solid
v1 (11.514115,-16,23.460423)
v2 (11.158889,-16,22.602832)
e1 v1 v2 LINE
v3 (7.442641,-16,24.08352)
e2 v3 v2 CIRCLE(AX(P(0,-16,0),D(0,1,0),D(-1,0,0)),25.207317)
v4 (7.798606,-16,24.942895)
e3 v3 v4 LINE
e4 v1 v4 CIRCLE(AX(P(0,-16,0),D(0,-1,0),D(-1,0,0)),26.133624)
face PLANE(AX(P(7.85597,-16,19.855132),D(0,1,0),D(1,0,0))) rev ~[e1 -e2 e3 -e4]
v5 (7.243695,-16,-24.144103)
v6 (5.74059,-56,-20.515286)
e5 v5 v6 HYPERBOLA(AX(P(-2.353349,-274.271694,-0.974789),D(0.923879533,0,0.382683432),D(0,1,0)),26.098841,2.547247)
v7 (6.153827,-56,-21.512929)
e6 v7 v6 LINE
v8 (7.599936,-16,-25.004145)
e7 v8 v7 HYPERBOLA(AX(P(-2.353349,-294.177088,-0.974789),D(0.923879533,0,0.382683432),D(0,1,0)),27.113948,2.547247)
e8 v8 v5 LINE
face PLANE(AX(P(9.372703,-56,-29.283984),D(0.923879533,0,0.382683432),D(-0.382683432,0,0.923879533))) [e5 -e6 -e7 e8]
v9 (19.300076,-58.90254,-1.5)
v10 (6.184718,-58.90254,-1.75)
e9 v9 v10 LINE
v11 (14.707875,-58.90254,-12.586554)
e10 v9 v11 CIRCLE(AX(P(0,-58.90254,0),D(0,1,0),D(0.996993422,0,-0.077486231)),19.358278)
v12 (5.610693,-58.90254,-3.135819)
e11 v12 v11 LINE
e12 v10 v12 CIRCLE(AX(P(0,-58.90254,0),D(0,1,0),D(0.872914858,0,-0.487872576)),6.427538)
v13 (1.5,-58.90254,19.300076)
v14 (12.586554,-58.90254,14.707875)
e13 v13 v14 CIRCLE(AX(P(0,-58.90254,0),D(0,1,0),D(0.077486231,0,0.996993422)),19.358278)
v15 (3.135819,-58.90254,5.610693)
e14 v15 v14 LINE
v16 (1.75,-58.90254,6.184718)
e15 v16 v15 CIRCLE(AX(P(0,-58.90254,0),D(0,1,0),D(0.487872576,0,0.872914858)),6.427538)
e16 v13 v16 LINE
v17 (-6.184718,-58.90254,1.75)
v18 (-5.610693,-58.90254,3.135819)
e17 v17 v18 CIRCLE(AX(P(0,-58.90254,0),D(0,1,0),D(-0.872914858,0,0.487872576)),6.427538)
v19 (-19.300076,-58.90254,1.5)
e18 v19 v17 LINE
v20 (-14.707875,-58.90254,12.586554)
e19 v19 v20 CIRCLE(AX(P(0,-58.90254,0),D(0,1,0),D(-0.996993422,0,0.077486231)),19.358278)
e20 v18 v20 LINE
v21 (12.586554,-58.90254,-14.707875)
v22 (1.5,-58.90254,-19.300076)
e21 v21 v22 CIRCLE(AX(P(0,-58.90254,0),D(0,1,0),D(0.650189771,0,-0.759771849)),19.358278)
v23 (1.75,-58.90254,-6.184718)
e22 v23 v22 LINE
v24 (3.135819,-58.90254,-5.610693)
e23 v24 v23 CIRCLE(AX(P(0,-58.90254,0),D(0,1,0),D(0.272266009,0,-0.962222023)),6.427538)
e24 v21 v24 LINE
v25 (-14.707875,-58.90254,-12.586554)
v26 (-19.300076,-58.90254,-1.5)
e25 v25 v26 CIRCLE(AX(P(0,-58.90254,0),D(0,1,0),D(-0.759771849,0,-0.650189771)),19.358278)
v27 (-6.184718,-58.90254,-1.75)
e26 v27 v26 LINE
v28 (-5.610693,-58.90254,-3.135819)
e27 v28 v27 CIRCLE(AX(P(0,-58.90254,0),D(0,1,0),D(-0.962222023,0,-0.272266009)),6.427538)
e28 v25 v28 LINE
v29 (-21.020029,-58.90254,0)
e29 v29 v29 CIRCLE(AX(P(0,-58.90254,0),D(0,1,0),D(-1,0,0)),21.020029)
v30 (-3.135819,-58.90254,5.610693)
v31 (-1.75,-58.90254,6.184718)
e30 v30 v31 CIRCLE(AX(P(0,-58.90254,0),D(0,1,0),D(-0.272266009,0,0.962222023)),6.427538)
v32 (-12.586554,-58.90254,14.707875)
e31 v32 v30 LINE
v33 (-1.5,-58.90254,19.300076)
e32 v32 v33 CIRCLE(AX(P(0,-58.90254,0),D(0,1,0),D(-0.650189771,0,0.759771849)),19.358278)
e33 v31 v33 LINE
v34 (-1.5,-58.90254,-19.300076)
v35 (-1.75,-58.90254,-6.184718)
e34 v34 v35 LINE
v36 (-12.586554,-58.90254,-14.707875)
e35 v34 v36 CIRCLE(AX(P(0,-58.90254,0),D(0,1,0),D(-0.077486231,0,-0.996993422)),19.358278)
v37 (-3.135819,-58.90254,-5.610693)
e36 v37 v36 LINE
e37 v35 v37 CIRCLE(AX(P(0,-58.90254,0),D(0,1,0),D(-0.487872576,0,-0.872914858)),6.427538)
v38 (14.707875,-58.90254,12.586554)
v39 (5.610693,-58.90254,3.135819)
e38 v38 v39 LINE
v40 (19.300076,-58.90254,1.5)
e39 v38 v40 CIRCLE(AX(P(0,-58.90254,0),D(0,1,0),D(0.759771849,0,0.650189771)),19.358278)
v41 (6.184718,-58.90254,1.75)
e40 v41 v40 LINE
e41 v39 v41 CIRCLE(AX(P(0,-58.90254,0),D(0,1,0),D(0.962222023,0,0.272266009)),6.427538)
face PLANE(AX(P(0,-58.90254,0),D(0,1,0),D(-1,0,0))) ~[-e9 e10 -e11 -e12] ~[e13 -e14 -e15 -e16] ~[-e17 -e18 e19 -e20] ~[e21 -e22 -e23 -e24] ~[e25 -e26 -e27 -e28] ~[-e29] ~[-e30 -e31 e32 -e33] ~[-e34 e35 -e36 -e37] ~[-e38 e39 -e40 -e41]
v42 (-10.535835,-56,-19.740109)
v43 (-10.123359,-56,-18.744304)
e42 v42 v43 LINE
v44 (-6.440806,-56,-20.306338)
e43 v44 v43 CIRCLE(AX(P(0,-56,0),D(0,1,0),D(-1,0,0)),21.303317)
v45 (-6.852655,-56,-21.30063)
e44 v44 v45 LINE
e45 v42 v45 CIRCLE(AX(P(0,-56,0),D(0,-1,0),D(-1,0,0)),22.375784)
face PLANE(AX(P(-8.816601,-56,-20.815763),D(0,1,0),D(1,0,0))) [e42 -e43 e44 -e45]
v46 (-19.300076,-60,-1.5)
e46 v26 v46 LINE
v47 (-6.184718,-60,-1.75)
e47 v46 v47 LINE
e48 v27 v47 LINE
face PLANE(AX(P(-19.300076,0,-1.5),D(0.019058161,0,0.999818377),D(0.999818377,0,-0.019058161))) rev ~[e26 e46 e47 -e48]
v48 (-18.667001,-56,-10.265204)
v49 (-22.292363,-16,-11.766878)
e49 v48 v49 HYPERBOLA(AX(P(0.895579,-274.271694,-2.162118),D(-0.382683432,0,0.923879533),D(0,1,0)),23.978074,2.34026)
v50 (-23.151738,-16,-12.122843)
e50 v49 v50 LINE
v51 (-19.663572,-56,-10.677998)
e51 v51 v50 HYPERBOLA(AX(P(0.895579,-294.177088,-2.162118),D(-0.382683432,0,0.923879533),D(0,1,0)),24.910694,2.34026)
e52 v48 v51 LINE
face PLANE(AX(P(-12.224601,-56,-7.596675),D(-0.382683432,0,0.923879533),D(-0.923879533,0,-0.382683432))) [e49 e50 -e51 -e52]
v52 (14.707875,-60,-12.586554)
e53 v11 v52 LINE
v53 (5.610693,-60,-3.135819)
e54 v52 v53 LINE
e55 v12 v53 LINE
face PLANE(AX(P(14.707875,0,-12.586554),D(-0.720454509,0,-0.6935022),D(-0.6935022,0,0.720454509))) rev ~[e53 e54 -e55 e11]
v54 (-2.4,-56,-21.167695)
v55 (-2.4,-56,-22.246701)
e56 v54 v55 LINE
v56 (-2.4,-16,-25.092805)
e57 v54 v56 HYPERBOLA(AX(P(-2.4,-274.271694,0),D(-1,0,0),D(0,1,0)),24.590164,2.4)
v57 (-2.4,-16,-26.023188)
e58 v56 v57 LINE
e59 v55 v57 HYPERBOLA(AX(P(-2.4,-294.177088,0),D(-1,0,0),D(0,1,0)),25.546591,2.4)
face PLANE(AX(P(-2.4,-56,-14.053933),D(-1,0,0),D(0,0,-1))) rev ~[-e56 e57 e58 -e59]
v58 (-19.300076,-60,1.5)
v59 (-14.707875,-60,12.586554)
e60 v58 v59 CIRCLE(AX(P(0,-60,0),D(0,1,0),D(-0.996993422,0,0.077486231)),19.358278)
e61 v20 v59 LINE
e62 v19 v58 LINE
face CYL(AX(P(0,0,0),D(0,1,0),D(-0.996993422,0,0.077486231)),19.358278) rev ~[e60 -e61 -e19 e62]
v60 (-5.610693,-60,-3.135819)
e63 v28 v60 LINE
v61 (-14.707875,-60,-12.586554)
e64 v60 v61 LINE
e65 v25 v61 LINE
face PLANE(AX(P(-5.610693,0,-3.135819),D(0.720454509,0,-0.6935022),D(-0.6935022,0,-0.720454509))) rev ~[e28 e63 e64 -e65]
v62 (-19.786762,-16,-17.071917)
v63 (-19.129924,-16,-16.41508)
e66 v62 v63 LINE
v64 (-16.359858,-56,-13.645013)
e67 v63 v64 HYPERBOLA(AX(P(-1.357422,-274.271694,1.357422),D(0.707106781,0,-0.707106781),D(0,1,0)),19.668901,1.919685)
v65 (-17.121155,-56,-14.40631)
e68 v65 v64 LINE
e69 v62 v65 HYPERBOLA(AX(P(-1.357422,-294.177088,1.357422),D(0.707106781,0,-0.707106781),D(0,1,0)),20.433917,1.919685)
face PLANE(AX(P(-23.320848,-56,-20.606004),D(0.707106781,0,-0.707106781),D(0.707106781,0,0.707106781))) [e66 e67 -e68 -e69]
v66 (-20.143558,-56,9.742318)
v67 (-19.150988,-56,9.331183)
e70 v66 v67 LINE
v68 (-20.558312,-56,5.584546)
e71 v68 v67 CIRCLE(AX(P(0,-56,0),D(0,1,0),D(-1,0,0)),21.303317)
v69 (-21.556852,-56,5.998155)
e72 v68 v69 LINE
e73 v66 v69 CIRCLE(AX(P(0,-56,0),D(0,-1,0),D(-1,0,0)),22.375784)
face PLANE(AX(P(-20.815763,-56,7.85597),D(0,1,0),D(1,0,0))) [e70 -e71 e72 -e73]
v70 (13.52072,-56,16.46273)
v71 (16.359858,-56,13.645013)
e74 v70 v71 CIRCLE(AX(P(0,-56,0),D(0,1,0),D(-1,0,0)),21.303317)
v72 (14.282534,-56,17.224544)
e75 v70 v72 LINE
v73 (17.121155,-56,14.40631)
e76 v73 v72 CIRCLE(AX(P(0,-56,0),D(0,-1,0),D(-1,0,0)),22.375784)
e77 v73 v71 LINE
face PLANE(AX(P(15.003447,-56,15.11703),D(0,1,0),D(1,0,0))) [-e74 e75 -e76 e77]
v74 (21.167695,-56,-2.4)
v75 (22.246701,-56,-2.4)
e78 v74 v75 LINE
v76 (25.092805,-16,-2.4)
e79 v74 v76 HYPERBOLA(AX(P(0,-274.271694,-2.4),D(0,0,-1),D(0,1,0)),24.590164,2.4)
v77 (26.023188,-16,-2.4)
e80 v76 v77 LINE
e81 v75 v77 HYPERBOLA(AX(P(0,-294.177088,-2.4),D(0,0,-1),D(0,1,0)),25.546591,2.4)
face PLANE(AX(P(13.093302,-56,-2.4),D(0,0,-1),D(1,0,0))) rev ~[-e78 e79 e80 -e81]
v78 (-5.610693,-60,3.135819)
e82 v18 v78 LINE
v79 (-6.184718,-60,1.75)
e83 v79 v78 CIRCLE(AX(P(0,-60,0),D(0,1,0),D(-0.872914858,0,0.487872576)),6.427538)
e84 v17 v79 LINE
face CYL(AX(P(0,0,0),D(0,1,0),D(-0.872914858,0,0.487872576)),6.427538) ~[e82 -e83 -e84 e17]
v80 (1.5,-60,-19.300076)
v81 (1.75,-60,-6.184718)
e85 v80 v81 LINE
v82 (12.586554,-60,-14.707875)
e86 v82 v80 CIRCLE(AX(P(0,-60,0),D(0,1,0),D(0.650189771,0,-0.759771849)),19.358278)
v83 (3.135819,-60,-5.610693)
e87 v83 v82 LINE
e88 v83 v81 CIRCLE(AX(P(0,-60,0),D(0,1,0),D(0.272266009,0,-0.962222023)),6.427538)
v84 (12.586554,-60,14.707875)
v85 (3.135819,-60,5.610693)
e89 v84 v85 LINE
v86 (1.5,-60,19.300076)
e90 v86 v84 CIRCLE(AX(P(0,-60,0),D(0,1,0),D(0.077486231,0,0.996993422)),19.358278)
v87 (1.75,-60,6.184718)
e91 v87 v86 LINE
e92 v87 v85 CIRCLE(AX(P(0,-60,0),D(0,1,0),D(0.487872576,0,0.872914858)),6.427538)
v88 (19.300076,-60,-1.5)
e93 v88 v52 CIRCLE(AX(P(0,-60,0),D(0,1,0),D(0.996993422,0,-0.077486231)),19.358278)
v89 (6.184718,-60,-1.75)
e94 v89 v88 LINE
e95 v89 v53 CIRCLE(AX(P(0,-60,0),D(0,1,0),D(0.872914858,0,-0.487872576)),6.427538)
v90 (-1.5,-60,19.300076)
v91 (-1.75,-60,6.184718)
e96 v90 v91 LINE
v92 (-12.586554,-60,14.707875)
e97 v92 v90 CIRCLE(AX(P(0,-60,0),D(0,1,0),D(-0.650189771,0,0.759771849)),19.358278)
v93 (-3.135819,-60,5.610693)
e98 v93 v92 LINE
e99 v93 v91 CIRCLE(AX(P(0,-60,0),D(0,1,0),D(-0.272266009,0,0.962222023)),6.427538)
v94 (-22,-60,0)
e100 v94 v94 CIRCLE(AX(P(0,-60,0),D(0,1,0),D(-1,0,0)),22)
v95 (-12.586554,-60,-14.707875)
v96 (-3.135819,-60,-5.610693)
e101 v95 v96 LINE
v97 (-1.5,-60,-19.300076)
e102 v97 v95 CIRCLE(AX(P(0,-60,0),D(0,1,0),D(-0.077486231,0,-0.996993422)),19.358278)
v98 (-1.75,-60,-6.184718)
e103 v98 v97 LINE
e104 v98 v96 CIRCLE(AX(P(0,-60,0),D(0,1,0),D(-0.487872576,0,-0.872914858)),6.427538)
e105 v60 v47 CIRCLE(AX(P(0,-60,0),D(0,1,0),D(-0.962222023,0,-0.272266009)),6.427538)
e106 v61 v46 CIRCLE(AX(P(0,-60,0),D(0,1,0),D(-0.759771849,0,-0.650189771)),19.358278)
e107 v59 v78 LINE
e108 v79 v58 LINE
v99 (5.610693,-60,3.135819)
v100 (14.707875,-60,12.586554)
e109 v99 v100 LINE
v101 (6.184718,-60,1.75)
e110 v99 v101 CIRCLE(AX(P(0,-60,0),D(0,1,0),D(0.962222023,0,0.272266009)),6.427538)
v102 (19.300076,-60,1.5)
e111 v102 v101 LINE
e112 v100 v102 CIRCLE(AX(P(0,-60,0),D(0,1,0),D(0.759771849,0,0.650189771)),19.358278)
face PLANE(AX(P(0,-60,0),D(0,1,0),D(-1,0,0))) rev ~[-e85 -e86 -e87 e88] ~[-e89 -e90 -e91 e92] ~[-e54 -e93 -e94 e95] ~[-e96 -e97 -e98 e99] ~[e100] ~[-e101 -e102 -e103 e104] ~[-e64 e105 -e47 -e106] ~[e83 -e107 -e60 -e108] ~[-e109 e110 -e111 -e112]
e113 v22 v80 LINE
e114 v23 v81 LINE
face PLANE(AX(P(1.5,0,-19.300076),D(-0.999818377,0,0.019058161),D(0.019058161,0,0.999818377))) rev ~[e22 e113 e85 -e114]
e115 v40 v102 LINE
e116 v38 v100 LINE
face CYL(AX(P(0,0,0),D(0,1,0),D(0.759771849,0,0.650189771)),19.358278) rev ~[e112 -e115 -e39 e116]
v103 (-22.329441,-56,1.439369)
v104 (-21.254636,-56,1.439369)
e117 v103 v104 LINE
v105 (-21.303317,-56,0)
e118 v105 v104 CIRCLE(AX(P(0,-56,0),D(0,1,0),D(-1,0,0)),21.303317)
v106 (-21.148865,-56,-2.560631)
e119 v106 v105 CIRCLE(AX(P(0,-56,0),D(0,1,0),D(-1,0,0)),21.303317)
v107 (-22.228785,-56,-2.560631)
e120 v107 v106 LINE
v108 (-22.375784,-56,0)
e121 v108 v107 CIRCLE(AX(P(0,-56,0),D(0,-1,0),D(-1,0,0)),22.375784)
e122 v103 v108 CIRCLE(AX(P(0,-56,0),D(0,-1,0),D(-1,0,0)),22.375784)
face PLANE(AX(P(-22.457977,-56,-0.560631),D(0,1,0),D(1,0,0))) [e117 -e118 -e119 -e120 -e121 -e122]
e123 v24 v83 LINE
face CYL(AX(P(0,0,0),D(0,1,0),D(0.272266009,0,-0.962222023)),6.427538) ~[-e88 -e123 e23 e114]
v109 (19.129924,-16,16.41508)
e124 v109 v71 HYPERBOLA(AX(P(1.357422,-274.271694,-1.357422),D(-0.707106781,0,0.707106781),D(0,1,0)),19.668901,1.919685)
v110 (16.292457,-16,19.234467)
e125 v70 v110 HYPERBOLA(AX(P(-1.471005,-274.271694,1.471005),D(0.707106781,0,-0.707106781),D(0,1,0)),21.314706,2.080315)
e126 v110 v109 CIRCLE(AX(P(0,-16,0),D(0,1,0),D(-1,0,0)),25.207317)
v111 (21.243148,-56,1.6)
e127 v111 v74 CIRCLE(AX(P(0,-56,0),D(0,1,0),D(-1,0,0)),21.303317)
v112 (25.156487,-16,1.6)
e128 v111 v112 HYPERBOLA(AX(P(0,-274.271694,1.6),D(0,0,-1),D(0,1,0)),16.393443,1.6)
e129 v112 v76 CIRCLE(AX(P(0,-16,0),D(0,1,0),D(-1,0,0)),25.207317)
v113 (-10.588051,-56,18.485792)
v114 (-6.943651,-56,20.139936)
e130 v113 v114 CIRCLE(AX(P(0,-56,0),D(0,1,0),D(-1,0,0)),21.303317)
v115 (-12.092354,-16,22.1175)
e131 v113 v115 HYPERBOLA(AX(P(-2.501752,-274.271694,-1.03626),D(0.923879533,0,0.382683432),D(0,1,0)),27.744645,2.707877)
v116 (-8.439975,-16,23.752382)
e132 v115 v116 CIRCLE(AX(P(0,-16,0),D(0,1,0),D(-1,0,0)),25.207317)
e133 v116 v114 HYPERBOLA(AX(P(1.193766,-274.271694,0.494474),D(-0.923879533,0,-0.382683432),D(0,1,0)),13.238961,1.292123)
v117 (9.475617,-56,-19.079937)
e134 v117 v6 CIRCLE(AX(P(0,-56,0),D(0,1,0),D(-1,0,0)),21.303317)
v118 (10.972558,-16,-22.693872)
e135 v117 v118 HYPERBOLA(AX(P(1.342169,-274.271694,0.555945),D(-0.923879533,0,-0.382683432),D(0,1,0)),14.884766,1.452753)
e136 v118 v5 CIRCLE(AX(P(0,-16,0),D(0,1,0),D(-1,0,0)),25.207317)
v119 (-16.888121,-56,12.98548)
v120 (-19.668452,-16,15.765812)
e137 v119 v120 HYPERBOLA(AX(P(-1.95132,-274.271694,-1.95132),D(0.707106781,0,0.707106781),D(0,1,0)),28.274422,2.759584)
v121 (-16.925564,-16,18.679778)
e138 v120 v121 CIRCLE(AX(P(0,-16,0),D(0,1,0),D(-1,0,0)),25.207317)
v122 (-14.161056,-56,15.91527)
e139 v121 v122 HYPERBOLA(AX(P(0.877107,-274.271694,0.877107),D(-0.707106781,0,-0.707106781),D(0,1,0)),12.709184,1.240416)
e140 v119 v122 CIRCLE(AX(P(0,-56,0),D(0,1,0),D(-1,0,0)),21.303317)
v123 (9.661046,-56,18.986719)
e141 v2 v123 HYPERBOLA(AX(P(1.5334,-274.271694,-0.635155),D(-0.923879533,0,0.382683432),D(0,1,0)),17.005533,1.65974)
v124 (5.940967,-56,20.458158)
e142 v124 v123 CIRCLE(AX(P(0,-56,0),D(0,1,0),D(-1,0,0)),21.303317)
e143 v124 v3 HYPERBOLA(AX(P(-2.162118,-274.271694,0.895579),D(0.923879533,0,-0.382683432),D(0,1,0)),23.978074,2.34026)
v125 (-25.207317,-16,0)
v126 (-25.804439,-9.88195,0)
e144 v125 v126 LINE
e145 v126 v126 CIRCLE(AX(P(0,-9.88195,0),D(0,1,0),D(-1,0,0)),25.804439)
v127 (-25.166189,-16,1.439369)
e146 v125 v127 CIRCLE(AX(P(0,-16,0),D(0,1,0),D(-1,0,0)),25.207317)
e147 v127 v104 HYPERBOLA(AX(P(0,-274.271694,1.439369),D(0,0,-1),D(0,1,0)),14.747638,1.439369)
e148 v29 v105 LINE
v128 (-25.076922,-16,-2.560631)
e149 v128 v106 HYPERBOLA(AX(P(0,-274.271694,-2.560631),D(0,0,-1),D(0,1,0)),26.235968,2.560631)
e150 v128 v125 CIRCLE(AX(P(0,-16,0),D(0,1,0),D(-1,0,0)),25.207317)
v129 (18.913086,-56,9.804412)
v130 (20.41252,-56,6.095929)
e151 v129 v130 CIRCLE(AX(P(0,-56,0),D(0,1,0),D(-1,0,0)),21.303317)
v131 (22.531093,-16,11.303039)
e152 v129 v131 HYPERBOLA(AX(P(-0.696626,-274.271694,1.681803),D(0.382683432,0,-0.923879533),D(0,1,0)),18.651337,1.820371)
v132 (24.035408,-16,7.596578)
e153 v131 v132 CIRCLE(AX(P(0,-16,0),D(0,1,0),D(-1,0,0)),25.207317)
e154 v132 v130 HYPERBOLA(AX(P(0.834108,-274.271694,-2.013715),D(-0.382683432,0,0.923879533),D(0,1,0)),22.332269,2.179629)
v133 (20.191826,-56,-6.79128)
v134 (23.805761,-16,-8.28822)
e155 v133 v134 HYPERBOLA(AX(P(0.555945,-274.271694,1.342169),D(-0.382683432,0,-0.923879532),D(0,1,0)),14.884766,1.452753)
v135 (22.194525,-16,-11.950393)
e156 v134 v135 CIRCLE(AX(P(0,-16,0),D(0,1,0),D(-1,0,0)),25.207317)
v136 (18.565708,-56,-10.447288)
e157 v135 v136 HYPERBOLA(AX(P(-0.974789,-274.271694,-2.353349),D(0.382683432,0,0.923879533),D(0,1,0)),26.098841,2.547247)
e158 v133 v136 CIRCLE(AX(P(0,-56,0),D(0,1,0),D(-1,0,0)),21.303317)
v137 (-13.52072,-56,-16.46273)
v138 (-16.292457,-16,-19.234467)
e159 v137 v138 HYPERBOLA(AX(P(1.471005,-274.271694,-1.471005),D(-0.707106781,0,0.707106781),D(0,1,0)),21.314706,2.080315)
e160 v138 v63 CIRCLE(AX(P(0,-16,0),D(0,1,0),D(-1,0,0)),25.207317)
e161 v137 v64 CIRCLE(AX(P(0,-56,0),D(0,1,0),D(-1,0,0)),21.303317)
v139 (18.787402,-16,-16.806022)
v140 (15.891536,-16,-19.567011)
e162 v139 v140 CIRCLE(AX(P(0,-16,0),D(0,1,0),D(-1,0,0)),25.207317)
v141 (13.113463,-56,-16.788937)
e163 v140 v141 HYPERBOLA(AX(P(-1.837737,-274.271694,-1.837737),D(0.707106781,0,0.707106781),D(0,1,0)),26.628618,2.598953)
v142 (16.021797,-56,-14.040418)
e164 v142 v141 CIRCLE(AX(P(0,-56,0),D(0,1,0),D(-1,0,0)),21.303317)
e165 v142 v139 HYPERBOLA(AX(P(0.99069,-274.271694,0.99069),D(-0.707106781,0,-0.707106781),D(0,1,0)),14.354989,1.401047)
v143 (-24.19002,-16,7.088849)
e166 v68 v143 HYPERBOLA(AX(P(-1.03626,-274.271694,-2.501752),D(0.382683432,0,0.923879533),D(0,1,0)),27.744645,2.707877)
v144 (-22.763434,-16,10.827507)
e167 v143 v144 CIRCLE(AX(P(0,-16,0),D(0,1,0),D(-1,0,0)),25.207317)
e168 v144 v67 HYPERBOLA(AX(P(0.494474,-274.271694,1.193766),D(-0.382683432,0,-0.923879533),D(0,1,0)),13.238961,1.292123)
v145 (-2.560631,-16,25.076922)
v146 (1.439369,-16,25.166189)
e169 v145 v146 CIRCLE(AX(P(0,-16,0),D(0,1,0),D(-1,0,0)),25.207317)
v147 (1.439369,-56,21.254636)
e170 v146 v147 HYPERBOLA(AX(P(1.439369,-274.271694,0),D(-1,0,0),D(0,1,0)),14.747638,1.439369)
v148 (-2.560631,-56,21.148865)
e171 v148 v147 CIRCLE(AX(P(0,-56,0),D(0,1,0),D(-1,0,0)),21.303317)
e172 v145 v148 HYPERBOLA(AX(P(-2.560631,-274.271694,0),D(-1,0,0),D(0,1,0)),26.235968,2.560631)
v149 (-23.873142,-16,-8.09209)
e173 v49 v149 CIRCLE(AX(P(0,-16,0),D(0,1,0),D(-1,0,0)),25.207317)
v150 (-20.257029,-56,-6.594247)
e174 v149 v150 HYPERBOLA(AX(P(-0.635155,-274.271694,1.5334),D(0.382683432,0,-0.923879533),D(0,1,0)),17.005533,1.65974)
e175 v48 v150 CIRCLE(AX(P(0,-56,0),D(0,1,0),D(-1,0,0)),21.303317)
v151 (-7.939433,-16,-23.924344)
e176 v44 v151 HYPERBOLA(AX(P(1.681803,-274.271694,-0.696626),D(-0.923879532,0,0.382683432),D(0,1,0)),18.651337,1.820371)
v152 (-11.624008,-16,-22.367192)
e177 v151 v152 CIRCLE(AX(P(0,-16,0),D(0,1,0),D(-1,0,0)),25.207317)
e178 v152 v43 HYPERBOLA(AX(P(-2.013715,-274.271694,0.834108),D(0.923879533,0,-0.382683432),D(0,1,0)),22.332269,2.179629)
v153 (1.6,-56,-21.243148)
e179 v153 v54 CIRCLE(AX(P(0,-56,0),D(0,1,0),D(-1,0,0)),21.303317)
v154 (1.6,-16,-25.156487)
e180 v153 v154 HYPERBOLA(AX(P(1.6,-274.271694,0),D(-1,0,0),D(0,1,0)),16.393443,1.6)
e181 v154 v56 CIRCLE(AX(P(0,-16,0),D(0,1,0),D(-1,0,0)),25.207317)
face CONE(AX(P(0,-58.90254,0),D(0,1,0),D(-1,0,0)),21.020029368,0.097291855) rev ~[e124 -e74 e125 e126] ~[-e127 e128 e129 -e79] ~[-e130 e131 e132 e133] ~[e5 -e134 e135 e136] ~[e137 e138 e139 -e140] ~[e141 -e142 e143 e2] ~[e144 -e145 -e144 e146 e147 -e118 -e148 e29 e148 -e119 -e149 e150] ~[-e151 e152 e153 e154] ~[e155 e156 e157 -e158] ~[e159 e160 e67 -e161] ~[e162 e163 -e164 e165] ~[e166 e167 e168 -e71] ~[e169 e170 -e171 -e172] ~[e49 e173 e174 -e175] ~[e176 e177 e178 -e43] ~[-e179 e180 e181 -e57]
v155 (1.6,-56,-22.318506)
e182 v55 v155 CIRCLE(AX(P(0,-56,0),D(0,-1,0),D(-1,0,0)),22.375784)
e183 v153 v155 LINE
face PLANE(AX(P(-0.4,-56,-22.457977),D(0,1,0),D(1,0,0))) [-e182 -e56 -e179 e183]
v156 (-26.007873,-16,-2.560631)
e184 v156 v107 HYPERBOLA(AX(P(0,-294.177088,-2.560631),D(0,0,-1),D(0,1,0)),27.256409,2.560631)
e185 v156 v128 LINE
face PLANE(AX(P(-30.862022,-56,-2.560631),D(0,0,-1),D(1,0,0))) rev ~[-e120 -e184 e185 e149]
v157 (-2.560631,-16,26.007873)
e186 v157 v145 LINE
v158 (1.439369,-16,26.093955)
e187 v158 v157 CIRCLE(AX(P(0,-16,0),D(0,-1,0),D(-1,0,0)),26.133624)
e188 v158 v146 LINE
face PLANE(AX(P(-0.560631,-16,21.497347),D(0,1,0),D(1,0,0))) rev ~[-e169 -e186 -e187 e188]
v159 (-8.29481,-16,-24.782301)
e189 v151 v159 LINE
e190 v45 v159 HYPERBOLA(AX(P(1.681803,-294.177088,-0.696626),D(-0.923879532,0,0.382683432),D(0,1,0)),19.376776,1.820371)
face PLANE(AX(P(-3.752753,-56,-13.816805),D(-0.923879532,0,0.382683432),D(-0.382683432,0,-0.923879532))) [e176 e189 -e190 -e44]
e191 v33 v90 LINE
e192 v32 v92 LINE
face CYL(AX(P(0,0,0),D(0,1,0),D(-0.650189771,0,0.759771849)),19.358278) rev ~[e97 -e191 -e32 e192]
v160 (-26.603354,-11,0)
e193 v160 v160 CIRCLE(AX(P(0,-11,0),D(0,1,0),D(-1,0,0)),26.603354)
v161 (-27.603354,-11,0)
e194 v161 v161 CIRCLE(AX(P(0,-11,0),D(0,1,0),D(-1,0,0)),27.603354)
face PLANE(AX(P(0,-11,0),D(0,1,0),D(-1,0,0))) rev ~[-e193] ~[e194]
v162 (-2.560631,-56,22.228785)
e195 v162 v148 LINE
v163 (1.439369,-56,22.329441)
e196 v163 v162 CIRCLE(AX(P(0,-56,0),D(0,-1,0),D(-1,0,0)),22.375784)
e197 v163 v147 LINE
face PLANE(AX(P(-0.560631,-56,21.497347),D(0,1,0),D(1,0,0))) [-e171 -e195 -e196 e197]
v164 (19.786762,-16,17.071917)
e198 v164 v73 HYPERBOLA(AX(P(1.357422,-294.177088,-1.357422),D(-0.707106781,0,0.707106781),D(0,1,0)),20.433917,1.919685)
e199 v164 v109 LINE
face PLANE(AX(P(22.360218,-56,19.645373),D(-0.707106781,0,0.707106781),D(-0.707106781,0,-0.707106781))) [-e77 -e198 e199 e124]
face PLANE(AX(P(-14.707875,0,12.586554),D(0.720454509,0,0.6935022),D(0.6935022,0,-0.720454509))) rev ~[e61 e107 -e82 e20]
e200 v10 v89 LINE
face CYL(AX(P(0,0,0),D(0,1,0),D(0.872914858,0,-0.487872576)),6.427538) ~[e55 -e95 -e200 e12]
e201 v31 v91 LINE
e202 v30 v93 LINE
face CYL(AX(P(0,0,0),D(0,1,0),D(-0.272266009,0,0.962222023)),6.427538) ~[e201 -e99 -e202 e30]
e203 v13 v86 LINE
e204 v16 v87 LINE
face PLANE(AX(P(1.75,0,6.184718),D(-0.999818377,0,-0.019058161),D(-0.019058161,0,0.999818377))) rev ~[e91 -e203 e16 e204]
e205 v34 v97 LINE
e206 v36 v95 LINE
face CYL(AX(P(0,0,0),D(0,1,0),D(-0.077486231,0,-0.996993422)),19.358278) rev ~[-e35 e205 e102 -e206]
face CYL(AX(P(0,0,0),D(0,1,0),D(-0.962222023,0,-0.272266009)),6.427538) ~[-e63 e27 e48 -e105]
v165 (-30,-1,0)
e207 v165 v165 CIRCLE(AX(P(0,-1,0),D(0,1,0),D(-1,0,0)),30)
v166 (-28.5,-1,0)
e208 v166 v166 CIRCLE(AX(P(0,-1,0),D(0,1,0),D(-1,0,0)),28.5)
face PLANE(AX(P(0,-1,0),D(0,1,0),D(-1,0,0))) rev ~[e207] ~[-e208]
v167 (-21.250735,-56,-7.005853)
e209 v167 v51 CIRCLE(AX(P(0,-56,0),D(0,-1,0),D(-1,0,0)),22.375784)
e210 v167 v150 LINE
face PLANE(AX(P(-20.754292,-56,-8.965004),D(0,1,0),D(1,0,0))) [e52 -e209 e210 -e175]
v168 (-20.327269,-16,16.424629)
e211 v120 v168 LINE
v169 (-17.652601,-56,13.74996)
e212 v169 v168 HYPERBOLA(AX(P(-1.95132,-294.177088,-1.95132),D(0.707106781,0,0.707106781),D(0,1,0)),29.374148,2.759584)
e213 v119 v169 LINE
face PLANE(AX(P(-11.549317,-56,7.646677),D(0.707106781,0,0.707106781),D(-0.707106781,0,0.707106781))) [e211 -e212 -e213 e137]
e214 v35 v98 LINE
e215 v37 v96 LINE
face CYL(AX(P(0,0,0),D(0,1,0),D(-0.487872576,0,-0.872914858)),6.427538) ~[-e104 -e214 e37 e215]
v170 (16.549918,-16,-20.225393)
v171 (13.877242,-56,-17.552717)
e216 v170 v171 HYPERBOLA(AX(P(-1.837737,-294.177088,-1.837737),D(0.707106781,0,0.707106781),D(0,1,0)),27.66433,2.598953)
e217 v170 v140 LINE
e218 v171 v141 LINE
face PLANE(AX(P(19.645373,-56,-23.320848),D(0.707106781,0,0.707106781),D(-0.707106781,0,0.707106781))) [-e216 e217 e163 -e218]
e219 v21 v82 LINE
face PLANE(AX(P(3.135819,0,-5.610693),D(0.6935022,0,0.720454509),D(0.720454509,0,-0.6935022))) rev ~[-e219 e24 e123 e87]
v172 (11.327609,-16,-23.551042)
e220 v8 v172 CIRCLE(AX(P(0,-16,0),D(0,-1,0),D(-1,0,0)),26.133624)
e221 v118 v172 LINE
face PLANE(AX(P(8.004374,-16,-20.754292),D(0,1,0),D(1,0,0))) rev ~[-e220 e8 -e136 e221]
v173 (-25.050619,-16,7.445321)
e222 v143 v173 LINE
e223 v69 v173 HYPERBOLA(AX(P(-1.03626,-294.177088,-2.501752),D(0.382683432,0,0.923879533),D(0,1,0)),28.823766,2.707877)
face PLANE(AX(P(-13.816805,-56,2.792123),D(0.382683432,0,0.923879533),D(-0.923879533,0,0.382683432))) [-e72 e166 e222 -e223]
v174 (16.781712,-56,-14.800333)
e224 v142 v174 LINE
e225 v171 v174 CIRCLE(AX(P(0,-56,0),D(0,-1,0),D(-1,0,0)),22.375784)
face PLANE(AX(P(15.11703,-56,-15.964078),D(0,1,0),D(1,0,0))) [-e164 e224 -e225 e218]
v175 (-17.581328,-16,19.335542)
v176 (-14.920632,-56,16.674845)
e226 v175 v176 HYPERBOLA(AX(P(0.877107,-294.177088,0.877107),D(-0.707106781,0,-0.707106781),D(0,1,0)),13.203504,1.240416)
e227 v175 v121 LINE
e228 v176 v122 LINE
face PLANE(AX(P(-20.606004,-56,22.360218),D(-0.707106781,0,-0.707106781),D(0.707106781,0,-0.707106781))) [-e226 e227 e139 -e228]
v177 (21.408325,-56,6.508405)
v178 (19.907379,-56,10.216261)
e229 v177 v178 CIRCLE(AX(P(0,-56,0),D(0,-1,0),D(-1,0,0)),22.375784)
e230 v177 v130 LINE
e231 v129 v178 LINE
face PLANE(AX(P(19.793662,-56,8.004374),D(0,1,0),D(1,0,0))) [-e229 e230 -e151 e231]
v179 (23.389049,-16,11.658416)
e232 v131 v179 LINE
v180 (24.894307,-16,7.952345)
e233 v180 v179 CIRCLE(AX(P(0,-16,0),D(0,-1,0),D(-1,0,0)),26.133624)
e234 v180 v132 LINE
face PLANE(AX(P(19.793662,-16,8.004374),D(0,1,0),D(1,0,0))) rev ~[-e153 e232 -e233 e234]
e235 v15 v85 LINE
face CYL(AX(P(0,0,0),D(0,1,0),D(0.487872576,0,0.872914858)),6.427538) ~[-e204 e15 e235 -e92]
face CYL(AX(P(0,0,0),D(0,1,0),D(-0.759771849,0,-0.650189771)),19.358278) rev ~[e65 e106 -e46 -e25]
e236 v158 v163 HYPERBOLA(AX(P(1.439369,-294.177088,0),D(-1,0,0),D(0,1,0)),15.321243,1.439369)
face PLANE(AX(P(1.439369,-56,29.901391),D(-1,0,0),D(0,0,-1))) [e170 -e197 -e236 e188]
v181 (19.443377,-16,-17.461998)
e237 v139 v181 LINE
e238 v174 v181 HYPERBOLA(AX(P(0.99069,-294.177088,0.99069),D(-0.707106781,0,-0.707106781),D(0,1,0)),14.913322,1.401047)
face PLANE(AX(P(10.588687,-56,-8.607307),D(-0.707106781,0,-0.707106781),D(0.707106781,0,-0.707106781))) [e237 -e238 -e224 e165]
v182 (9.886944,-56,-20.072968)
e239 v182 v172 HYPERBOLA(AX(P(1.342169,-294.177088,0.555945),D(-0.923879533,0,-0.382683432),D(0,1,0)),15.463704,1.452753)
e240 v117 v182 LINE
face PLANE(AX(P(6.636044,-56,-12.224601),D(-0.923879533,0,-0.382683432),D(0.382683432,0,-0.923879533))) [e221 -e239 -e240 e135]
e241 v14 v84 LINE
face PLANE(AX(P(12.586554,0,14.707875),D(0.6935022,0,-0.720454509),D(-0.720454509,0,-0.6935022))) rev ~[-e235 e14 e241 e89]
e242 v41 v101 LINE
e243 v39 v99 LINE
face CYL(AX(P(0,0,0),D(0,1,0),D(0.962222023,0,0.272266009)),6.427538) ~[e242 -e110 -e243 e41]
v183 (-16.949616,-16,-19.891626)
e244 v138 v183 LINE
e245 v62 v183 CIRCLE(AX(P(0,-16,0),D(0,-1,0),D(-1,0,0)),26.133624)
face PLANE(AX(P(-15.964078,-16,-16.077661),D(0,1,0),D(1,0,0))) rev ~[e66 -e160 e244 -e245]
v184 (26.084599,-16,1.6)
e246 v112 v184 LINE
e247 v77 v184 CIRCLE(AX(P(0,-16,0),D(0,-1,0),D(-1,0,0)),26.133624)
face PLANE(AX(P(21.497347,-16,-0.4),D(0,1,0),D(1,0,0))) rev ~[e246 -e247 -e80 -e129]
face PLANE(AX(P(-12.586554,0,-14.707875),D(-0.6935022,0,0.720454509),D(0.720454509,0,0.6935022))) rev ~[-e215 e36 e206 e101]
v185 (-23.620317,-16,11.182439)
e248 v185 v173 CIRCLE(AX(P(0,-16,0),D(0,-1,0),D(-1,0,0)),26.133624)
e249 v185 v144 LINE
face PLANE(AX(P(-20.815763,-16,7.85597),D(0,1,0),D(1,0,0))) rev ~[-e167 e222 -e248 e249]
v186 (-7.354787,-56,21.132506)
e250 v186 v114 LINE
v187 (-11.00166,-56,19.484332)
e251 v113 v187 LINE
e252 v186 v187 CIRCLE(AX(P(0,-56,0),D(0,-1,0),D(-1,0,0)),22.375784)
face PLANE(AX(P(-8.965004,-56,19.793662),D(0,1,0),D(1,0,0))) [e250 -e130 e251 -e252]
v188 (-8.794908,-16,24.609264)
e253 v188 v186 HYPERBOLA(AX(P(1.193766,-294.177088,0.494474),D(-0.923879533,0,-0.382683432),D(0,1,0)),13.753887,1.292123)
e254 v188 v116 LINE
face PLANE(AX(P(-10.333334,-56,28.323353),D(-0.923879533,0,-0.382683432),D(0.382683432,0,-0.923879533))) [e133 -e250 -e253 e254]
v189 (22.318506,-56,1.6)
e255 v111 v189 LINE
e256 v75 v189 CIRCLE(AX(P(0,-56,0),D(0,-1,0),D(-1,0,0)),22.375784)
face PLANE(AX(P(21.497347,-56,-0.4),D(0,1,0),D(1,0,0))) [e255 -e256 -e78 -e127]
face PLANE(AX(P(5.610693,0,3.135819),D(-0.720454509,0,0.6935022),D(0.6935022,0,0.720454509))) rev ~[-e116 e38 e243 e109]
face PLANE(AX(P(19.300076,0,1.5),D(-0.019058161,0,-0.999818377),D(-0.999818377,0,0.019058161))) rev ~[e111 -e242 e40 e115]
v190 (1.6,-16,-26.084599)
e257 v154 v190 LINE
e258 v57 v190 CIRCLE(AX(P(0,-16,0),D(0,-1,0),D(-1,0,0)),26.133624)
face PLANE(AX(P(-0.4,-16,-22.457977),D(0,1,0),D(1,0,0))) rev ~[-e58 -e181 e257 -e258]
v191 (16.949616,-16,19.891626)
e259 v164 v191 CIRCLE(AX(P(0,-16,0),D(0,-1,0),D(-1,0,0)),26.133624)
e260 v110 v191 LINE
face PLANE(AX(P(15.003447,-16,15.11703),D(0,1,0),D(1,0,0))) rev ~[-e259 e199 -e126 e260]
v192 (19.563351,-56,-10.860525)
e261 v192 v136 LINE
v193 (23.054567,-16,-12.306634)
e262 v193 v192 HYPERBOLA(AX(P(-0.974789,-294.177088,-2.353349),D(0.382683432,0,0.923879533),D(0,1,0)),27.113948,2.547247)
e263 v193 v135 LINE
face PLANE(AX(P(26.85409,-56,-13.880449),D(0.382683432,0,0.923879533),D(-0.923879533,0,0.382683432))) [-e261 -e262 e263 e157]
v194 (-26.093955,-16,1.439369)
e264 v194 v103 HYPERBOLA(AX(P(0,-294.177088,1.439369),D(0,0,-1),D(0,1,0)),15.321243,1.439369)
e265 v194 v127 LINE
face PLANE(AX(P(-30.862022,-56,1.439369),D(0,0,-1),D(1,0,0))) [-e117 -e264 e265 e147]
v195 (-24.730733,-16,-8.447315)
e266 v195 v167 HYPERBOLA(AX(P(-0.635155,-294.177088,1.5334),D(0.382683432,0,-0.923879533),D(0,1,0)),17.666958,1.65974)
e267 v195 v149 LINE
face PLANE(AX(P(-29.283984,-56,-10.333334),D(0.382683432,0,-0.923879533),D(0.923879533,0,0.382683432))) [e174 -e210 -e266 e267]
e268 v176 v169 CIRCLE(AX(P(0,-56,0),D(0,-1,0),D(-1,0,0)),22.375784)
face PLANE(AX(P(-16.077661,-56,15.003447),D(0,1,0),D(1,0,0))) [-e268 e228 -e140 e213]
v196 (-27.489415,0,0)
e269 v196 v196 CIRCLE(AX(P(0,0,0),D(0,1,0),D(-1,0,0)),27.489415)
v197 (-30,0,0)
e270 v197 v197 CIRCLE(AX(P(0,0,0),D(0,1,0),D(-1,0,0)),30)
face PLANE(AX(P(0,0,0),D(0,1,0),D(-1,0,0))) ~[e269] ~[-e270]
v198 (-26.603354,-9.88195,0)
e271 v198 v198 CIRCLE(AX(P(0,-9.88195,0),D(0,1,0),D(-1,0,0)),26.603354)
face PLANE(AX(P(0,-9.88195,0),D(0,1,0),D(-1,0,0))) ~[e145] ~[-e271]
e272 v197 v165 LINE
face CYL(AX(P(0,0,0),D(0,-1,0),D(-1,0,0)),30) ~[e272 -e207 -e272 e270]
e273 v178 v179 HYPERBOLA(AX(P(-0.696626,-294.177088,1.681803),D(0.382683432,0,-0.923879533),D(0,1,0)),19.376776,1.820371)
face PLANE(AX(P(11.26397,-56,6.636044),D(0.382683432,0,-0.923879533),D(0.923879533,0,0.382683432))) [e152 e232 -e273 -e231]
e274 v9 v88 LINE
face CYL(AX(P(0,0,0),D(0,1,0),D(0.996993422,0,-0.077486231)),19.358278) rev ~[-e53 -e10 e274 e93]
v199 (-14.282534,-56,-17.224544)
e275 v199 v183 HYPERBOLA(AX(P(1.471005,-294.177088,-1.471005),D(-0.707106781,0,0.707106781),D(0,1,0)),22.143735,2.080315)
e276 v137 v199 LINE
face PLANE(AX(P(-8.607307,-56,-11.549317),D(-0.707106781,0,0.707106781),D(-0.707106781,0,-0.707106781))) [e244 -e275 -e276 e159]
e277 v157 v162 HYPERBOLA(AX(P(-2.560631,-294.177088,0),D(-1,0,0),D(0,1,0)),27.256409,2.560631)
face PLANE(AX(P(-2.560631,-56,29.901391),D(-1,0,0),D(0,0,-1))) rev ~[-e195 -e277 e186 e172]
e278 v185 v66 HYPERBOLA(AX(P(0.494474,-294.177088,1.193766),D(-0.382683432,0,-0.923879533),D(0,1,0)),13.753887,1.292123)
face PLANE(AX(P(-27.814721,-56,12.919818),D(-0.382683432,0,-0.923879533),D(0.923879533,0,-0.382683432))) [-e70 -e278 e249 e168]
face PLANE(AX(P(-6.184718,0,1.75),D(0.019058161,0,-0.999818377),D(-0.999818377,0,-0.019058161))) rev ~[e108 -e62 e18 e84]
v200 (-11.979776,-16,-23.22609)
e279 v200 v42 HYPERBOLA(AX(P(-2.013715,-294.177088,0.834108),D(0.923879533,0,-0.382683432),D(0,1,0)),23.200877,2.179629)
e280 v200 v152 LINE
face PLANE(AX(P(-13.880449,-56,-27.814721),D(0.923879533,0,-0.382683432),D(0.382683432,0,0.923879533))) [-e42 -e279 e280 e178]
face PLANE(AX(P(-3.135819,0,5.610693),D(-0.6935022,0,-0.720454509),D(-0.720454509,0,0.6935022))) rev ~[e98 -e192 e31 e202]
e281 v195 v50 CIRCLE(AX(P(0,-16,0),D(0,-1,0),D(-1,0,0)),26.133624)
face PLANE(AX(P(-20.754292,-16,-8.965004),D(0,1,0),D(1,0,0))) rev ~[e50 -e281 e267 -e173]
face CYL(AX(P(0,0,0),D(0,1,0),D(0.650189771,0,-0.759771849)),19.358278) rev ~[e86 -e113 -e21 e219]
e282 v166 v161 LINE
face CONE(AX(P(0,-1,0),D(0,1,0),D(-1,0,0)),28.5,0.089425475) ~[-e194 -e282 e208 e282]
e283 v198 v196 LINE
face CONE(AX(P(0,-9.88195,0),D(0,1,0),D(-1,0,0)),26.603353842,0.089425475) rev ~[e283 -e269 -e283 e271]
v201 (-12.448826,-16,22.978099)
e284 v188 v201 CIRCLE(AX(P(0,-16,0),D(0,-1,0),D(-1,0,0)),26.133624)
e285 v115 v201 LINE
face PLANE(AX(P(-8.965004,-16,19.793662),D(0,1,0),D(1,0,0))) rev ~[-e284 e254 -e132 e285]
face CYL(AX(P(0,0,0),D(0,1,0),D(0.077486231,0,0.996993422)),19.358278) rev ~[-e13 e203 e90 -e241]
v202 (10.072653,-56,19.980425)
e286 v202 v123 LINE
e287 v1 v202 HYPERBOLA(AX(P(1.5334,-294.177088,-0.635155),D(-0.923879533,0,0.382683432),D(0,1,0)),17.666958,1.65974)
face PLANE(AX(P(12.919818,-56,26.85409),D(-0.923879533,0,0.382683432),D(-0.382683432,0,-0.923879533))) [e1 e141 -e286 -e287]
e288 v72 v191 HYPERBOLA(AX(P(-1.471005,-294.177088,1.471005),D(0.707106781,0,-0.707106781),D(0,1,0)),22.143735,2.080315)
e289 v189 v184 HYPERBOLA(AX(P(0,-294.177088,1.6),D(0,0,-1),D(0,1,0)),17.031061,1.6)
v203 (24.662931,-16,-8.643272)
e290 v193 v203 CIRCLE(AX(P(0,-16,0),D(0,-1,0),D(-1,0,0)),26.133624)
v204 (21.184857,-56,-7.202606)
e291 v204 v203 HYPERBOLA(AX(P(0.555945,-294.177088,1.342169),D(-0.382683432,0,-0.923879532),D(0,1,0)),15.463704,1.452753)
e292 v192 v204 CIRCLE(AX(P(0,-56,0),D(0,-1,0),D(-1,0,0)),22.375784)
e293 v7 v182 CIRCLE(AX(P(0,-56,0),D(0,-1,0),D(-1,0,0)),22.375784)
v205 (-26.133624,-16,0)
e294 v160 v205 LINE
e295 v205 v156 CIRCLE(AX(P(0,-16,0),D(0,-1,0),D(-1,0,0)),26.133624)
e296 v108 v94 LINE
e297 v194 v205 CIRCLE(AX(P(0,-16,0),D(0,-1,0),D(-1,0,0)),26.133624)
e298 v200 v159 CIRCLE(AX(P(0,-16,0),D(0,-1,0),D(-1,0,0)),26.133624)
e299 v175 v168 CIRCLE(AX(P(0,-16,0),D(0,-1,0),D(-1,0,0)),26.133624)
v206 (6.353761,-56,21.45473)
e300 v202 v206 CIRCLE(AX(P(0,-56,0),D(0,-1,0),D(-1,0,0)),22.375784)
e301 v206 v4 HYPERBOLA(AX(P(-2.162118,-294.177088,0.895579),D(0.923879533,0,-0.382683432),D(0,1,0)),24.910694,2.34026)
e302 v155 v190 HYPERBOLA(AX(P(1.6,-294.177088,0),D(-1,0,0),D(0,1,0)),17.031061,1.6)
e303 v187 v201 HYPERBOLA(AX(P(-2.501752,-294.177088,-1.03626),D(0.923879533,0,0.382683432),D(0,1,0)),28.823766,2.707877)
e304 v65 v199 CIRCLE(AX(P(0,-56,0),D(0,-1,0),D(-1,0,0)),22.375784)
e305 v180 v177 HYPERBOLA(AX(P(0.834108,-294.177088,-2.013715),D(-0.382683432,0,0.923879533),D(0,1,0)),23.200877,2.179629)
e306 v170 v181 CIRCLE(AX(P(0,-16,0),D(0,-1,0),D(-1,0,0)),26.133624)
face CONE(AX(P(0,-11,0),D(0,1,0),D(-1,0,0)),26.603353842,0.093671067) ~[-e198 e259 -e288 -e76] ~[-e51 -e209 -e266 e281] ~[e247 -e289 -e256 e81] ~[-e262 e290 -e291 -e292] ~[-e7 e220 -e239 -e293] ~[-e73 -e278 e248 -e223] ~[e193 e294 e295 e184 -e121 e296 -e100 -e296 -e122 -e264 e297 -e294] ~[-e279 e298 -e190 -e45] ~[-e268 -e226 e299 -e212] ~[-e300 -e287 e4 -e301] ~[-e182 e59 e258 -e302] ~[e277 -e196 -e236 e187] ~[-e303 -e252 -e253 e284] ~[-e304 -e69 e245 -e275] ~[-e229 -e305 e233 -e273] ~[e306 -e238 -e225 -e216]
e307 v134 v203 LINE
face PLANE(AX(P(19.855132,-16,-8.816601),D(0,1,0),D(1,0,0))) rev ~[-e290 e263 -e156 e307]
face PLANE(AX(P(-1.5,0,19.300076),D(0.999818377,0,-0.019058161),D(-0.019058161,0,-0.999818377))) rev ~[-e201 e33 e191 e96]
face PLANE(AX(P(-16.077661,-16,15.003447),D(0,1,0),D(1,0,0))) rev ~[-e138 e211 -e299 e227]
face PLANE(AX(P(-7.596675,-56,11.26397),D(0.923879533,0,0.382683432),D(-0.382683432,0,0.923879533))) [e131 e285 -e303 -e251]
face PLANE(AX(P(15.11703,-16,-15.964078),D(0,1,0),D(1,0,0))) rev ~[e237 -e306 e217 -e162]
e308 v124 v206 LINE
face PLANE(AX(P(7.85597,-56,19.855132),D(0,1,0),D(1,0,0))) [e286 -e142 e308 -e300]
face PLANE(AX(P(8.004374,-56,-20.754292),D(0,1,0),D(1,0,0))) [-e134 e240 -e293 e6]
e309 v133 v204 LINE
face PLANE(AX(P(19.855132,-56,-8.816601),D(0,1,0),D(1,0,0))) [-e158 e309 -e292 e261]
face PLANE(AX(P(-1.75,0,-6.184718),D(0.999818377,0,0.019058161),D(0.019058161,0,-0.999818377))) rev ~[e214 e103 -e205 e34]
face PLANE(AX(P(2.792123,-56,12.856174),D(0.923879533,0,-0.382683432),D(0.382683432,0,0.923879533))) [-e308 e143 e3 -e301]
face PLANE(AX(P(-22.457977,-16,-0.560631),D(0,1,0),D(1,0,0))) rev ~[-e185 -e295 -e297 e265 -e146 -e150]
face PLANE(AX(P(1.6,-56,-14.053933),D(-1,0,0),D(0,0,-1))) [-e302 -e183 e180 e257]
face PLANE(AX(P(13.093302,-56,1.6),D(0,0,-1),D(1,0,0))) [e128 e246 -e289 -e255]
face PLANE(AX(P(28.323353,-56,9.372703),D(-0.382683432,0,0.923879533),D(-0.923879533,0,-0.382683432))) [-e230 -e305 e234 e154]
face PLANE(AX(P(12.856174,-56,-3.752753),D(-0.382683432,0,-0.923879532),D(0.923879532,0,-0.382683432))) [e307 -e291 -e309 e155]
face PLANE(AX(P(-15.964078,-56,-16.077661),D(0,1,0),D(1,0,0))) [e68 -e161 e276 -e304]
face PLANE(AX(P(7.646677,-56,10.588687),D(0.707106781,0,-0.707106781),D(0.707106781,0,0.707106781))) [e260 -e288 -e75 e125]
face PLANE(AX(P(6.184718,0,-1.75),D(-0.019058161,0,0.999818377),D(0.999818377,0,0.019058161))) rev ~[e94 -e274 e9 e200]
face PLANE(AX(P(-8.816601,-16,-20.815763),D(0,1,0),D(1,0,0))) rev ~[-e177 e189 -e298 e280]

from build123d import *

# Parameters (mm, degrees)
CORTAR_EXTRUIR2_DEPTH = 112
CROQUIS11_W           = 4
CROQUIS11_H           = 16.808089165
CROQUIS11_W_2         = 16.808089165
CROQUIS11_H_2         = 4
CORTAR_EXTRUIR3_DEPTH = 40


with BuildPart() as part:
    # Croquis1 → Revolución1 (revolve)
    with BuildSketch(Plane.XY):
        Polygon((-27.489415048, 0), (-30, 0), (-30, -1), (-28.5, -1), (-27.603353842, -11), (-26.603353842, -11), (-22, -60), (0, -60), (0, -58.902540381), (-21.020029368, -58.902540381), (-25.804439037, -9.881949504), (-26.603353842, -9.881949504), align=None)
    revolve(axis=Axis((0, -60, 0), (0, 1, 0)))

    # Croquis9 → Cortar-Extruir2 (cut)
    with BuildSketch(Plane(origin=(0, 0, 0), x_dir=(1, 0, 0), z_dir=(0, 1, 0))):
        with BuildLine():
            Line((-1.75, 6.184718181), (-1.5, 19.300075922))
            ThreePointArc((-1.5, 19.300075922), (-7.408092304, 17.884716912), (-12.58655439, 14.707874734))
            Line((-12.58655439, 14.707874734), (-3.135819299, 5.610693033))
            ThreePointArc((-3.135819299, 5.610693033), (-2.459712132, 5.938270389), (-1.75, 6.184718181))
        make_face()
        with BuildLine():
            Line((3.135819299, 5.610693033), (12.58655439, 14.707874734))
            ThreePointArc((12.58655439, 14.707874734), (7.408092304, 17.884716912), (1.5, 19.300075922))
            Line((1.5, 19.300075922), (1.75, 6.184718181))
            ThreePointArc((1.75, 6.184718181), (2.459712132, 5.938270389), (3.135819299, 5.610693033))
        make_face()
        with BuildLine():
            Line((6.184718181, 1.75), (19.300075922, 1.5))
            ThreePointArc((19.300075922, 1.5), (17.884716912, 7.408092304), (14.707874734, 12.58655439))
            Line((14.707874734, 12.58655439), (5.610693033, 3.135819299))
            ThreePointArc((5.610693033, 3.135819299), (5.938270389, 2.459712132), (6.184718181, 1.75))
        make_face()
        with BuildLine():
            Line((5.610693033, -3.135819299), (14.707874734, -12.58655439))
            ThreePointArc((14.707874734, -12.58655439), (17.884716912, -7.408092304), (19.300075922, -1.5))
            Line((19.300075922, -1.5), (6.184718181, -1.75))
            ThreePointArc((6.184718181, -1.75), (5.938270389, -2.459712132), (5.610693033, -3.135819299))
        make_face()
        with BuildLine():
            Line((1.75, -6.184718181), (1.5, -19.300075922))
            ThreePointArc((1.5, -19.300075922), (7.408092304, -17.884716912), (12.58655439, -14.707874734))
            Line((12.58655439, -14.707874734), (3.135819299, -5.610693033))
            ThreePointArc((3.135819299, -5.610693033), (2.459712132, -5.938270389), (1.75, -6.184718181))
        make_face()
        with BuildLine():
            Line((-3.135819299, -5.610693033), (-12.58655439, -14.707874734))
            ThreePointArc((-12.58655439, -14.707874734), (-7.408092304, -17.884716912), (-1.5, -19.300075922))
            Line((-1.5, -19.300075922), (-1.75, -6.184718181))
            ThreePointArc((-1.75, -6.184718181), (-2.459712132, -5.938270389), (-3.135819299, -5.610693033))
        make_face()
        with BuildLine():
            Line((-6.184718181, -1.75), (-19.300075922, -1.5))
            ThreePointArc((-19.300075922, -1.5), (-17.884716912, -7.408092304), (-14.707874734, -12.58655439))
            Line((-14.707874734, -12.58655439), (-5.610693033, -3.135819299))
            ThreePointArc((-5.610693033, -3.135819299), (-5.938270389, -2.459712132), (-6.184718181, -1.75))
        make_face()
        with BuildLine():
            Line((-5.610693033, 3.135819299), (-14.707874734, 12.58655439))
            ThreePointArc((-14.707874734, 12.58655439), (-17.884716912, 7.408092304), (-19.300075922, 1.5))
            Line((-19.300075922, 1.5), (-6.184718181, 1.75))
            ThreePointArc((-6.184718181, 1.75), (-5.938270389, 2.459712132), (-5.610693033, 3.135819299))
        make_face()
    extrude(amount=-CORTAR_EXTRUIR2_DEPTH, mode=Mode.SUBTRACT)

    # Croquis11 → Cortar-Extruir3 (cut)
    with BuildSketch(Plane(origin=(0, -56, 0), x_dir=(1, 0, 0), z_dir=(0, 1, 0))):
        with Locations((-0.4, 22.457977408)):
            Rectangle(CROQUIS11_W, CROQUIS11_H)
        Polygon((9.372703114, 29.283983817), (2.940525861, 13.755334257), (6.636043991, 12.224600528), (13.068221244, 27.753250088), align=None)
        Polygon((19.645373498, 23.320848212), (7.760259671, 11.435734384), (10.588686796, 8.60730726), (22.473800623, 20.492421087), align=None)
        Polygon((26.854090209, 13.880448514), (11.325440649, 7.448271261), (12.856174379, 3.75275313), (28.384823939, 10.184930384), align=None)
        with Locations((21.497346893, 0.4)):
            Rectangle(CROQUIS11_W_2, CROQUIS11_H_2)
        Polygon((28.323353302, -9.372703114), (12.794703741, -2.940525861), (11.263970012, -6.636043991), (26.792619572, -13.068221244), align=None)
        Polygon((22.360217696, -19.645373498), (10.475103869, -7.760259671), (7.646676744, -10.588686796), (19.531790571, -22.473800623), align=None)
        Polygon((12.919817998, -26.854090209), (6.487640745, -11.325440649), (2.792122615, -12.856174379), (9.224299868, -28.384823939), align=None)
        with Locations((-0.560630516, -21.497346893)):
            Rectangle(CROQUIS11_W, CROQUIS11_H)
        Polygon((-10.333333629, -28.323353302), (-3.901156376, -12.794703741), (-7.596674506, -11.263970012), (-14.028851759, -26.792619572), align=None)
        Polygon((-20.606004014, -22.360217696), (-8.720890187, -10.475103869), (-11.549317311, -7.646676744), (-23.434431139, -19.531790571), align=None)
        Polygon((-27.814720725, -12.919817998), (-12.286071165, -6.487640745), (-13.816804894, -2.792122615), (-29.345454454, -9.224299868), align=None)
        with Locations((-22.457977408, 0.560630516)):
            Rectangle(CROQUIS11_W_2, CROQUIS11_H_2)
        Polygon((-29.283983817, 10.333333629), (-13.755334257, 3.901156376), (-12.224600528, 7.596674506), (-27.753250088, 14.028851759), align=None)
        Polygon((-23.320848212, 20.606004014), (-11.435734384, 8.720890187), (-8.60730726, 11.549317311), (-20.492421087, 23.434431139), align=None)
        Polygon((-13.880448514, 27.814720725), (-7.448271261, 12.286071165), (-3.75275313, 13.816804894), (-10.184930384, 29.345454454), align=None)
    extrude(amount=CORTAR_EXTRUIR3_DEPTH, mode=Mode.SUBTRACT)


solid = part.part
